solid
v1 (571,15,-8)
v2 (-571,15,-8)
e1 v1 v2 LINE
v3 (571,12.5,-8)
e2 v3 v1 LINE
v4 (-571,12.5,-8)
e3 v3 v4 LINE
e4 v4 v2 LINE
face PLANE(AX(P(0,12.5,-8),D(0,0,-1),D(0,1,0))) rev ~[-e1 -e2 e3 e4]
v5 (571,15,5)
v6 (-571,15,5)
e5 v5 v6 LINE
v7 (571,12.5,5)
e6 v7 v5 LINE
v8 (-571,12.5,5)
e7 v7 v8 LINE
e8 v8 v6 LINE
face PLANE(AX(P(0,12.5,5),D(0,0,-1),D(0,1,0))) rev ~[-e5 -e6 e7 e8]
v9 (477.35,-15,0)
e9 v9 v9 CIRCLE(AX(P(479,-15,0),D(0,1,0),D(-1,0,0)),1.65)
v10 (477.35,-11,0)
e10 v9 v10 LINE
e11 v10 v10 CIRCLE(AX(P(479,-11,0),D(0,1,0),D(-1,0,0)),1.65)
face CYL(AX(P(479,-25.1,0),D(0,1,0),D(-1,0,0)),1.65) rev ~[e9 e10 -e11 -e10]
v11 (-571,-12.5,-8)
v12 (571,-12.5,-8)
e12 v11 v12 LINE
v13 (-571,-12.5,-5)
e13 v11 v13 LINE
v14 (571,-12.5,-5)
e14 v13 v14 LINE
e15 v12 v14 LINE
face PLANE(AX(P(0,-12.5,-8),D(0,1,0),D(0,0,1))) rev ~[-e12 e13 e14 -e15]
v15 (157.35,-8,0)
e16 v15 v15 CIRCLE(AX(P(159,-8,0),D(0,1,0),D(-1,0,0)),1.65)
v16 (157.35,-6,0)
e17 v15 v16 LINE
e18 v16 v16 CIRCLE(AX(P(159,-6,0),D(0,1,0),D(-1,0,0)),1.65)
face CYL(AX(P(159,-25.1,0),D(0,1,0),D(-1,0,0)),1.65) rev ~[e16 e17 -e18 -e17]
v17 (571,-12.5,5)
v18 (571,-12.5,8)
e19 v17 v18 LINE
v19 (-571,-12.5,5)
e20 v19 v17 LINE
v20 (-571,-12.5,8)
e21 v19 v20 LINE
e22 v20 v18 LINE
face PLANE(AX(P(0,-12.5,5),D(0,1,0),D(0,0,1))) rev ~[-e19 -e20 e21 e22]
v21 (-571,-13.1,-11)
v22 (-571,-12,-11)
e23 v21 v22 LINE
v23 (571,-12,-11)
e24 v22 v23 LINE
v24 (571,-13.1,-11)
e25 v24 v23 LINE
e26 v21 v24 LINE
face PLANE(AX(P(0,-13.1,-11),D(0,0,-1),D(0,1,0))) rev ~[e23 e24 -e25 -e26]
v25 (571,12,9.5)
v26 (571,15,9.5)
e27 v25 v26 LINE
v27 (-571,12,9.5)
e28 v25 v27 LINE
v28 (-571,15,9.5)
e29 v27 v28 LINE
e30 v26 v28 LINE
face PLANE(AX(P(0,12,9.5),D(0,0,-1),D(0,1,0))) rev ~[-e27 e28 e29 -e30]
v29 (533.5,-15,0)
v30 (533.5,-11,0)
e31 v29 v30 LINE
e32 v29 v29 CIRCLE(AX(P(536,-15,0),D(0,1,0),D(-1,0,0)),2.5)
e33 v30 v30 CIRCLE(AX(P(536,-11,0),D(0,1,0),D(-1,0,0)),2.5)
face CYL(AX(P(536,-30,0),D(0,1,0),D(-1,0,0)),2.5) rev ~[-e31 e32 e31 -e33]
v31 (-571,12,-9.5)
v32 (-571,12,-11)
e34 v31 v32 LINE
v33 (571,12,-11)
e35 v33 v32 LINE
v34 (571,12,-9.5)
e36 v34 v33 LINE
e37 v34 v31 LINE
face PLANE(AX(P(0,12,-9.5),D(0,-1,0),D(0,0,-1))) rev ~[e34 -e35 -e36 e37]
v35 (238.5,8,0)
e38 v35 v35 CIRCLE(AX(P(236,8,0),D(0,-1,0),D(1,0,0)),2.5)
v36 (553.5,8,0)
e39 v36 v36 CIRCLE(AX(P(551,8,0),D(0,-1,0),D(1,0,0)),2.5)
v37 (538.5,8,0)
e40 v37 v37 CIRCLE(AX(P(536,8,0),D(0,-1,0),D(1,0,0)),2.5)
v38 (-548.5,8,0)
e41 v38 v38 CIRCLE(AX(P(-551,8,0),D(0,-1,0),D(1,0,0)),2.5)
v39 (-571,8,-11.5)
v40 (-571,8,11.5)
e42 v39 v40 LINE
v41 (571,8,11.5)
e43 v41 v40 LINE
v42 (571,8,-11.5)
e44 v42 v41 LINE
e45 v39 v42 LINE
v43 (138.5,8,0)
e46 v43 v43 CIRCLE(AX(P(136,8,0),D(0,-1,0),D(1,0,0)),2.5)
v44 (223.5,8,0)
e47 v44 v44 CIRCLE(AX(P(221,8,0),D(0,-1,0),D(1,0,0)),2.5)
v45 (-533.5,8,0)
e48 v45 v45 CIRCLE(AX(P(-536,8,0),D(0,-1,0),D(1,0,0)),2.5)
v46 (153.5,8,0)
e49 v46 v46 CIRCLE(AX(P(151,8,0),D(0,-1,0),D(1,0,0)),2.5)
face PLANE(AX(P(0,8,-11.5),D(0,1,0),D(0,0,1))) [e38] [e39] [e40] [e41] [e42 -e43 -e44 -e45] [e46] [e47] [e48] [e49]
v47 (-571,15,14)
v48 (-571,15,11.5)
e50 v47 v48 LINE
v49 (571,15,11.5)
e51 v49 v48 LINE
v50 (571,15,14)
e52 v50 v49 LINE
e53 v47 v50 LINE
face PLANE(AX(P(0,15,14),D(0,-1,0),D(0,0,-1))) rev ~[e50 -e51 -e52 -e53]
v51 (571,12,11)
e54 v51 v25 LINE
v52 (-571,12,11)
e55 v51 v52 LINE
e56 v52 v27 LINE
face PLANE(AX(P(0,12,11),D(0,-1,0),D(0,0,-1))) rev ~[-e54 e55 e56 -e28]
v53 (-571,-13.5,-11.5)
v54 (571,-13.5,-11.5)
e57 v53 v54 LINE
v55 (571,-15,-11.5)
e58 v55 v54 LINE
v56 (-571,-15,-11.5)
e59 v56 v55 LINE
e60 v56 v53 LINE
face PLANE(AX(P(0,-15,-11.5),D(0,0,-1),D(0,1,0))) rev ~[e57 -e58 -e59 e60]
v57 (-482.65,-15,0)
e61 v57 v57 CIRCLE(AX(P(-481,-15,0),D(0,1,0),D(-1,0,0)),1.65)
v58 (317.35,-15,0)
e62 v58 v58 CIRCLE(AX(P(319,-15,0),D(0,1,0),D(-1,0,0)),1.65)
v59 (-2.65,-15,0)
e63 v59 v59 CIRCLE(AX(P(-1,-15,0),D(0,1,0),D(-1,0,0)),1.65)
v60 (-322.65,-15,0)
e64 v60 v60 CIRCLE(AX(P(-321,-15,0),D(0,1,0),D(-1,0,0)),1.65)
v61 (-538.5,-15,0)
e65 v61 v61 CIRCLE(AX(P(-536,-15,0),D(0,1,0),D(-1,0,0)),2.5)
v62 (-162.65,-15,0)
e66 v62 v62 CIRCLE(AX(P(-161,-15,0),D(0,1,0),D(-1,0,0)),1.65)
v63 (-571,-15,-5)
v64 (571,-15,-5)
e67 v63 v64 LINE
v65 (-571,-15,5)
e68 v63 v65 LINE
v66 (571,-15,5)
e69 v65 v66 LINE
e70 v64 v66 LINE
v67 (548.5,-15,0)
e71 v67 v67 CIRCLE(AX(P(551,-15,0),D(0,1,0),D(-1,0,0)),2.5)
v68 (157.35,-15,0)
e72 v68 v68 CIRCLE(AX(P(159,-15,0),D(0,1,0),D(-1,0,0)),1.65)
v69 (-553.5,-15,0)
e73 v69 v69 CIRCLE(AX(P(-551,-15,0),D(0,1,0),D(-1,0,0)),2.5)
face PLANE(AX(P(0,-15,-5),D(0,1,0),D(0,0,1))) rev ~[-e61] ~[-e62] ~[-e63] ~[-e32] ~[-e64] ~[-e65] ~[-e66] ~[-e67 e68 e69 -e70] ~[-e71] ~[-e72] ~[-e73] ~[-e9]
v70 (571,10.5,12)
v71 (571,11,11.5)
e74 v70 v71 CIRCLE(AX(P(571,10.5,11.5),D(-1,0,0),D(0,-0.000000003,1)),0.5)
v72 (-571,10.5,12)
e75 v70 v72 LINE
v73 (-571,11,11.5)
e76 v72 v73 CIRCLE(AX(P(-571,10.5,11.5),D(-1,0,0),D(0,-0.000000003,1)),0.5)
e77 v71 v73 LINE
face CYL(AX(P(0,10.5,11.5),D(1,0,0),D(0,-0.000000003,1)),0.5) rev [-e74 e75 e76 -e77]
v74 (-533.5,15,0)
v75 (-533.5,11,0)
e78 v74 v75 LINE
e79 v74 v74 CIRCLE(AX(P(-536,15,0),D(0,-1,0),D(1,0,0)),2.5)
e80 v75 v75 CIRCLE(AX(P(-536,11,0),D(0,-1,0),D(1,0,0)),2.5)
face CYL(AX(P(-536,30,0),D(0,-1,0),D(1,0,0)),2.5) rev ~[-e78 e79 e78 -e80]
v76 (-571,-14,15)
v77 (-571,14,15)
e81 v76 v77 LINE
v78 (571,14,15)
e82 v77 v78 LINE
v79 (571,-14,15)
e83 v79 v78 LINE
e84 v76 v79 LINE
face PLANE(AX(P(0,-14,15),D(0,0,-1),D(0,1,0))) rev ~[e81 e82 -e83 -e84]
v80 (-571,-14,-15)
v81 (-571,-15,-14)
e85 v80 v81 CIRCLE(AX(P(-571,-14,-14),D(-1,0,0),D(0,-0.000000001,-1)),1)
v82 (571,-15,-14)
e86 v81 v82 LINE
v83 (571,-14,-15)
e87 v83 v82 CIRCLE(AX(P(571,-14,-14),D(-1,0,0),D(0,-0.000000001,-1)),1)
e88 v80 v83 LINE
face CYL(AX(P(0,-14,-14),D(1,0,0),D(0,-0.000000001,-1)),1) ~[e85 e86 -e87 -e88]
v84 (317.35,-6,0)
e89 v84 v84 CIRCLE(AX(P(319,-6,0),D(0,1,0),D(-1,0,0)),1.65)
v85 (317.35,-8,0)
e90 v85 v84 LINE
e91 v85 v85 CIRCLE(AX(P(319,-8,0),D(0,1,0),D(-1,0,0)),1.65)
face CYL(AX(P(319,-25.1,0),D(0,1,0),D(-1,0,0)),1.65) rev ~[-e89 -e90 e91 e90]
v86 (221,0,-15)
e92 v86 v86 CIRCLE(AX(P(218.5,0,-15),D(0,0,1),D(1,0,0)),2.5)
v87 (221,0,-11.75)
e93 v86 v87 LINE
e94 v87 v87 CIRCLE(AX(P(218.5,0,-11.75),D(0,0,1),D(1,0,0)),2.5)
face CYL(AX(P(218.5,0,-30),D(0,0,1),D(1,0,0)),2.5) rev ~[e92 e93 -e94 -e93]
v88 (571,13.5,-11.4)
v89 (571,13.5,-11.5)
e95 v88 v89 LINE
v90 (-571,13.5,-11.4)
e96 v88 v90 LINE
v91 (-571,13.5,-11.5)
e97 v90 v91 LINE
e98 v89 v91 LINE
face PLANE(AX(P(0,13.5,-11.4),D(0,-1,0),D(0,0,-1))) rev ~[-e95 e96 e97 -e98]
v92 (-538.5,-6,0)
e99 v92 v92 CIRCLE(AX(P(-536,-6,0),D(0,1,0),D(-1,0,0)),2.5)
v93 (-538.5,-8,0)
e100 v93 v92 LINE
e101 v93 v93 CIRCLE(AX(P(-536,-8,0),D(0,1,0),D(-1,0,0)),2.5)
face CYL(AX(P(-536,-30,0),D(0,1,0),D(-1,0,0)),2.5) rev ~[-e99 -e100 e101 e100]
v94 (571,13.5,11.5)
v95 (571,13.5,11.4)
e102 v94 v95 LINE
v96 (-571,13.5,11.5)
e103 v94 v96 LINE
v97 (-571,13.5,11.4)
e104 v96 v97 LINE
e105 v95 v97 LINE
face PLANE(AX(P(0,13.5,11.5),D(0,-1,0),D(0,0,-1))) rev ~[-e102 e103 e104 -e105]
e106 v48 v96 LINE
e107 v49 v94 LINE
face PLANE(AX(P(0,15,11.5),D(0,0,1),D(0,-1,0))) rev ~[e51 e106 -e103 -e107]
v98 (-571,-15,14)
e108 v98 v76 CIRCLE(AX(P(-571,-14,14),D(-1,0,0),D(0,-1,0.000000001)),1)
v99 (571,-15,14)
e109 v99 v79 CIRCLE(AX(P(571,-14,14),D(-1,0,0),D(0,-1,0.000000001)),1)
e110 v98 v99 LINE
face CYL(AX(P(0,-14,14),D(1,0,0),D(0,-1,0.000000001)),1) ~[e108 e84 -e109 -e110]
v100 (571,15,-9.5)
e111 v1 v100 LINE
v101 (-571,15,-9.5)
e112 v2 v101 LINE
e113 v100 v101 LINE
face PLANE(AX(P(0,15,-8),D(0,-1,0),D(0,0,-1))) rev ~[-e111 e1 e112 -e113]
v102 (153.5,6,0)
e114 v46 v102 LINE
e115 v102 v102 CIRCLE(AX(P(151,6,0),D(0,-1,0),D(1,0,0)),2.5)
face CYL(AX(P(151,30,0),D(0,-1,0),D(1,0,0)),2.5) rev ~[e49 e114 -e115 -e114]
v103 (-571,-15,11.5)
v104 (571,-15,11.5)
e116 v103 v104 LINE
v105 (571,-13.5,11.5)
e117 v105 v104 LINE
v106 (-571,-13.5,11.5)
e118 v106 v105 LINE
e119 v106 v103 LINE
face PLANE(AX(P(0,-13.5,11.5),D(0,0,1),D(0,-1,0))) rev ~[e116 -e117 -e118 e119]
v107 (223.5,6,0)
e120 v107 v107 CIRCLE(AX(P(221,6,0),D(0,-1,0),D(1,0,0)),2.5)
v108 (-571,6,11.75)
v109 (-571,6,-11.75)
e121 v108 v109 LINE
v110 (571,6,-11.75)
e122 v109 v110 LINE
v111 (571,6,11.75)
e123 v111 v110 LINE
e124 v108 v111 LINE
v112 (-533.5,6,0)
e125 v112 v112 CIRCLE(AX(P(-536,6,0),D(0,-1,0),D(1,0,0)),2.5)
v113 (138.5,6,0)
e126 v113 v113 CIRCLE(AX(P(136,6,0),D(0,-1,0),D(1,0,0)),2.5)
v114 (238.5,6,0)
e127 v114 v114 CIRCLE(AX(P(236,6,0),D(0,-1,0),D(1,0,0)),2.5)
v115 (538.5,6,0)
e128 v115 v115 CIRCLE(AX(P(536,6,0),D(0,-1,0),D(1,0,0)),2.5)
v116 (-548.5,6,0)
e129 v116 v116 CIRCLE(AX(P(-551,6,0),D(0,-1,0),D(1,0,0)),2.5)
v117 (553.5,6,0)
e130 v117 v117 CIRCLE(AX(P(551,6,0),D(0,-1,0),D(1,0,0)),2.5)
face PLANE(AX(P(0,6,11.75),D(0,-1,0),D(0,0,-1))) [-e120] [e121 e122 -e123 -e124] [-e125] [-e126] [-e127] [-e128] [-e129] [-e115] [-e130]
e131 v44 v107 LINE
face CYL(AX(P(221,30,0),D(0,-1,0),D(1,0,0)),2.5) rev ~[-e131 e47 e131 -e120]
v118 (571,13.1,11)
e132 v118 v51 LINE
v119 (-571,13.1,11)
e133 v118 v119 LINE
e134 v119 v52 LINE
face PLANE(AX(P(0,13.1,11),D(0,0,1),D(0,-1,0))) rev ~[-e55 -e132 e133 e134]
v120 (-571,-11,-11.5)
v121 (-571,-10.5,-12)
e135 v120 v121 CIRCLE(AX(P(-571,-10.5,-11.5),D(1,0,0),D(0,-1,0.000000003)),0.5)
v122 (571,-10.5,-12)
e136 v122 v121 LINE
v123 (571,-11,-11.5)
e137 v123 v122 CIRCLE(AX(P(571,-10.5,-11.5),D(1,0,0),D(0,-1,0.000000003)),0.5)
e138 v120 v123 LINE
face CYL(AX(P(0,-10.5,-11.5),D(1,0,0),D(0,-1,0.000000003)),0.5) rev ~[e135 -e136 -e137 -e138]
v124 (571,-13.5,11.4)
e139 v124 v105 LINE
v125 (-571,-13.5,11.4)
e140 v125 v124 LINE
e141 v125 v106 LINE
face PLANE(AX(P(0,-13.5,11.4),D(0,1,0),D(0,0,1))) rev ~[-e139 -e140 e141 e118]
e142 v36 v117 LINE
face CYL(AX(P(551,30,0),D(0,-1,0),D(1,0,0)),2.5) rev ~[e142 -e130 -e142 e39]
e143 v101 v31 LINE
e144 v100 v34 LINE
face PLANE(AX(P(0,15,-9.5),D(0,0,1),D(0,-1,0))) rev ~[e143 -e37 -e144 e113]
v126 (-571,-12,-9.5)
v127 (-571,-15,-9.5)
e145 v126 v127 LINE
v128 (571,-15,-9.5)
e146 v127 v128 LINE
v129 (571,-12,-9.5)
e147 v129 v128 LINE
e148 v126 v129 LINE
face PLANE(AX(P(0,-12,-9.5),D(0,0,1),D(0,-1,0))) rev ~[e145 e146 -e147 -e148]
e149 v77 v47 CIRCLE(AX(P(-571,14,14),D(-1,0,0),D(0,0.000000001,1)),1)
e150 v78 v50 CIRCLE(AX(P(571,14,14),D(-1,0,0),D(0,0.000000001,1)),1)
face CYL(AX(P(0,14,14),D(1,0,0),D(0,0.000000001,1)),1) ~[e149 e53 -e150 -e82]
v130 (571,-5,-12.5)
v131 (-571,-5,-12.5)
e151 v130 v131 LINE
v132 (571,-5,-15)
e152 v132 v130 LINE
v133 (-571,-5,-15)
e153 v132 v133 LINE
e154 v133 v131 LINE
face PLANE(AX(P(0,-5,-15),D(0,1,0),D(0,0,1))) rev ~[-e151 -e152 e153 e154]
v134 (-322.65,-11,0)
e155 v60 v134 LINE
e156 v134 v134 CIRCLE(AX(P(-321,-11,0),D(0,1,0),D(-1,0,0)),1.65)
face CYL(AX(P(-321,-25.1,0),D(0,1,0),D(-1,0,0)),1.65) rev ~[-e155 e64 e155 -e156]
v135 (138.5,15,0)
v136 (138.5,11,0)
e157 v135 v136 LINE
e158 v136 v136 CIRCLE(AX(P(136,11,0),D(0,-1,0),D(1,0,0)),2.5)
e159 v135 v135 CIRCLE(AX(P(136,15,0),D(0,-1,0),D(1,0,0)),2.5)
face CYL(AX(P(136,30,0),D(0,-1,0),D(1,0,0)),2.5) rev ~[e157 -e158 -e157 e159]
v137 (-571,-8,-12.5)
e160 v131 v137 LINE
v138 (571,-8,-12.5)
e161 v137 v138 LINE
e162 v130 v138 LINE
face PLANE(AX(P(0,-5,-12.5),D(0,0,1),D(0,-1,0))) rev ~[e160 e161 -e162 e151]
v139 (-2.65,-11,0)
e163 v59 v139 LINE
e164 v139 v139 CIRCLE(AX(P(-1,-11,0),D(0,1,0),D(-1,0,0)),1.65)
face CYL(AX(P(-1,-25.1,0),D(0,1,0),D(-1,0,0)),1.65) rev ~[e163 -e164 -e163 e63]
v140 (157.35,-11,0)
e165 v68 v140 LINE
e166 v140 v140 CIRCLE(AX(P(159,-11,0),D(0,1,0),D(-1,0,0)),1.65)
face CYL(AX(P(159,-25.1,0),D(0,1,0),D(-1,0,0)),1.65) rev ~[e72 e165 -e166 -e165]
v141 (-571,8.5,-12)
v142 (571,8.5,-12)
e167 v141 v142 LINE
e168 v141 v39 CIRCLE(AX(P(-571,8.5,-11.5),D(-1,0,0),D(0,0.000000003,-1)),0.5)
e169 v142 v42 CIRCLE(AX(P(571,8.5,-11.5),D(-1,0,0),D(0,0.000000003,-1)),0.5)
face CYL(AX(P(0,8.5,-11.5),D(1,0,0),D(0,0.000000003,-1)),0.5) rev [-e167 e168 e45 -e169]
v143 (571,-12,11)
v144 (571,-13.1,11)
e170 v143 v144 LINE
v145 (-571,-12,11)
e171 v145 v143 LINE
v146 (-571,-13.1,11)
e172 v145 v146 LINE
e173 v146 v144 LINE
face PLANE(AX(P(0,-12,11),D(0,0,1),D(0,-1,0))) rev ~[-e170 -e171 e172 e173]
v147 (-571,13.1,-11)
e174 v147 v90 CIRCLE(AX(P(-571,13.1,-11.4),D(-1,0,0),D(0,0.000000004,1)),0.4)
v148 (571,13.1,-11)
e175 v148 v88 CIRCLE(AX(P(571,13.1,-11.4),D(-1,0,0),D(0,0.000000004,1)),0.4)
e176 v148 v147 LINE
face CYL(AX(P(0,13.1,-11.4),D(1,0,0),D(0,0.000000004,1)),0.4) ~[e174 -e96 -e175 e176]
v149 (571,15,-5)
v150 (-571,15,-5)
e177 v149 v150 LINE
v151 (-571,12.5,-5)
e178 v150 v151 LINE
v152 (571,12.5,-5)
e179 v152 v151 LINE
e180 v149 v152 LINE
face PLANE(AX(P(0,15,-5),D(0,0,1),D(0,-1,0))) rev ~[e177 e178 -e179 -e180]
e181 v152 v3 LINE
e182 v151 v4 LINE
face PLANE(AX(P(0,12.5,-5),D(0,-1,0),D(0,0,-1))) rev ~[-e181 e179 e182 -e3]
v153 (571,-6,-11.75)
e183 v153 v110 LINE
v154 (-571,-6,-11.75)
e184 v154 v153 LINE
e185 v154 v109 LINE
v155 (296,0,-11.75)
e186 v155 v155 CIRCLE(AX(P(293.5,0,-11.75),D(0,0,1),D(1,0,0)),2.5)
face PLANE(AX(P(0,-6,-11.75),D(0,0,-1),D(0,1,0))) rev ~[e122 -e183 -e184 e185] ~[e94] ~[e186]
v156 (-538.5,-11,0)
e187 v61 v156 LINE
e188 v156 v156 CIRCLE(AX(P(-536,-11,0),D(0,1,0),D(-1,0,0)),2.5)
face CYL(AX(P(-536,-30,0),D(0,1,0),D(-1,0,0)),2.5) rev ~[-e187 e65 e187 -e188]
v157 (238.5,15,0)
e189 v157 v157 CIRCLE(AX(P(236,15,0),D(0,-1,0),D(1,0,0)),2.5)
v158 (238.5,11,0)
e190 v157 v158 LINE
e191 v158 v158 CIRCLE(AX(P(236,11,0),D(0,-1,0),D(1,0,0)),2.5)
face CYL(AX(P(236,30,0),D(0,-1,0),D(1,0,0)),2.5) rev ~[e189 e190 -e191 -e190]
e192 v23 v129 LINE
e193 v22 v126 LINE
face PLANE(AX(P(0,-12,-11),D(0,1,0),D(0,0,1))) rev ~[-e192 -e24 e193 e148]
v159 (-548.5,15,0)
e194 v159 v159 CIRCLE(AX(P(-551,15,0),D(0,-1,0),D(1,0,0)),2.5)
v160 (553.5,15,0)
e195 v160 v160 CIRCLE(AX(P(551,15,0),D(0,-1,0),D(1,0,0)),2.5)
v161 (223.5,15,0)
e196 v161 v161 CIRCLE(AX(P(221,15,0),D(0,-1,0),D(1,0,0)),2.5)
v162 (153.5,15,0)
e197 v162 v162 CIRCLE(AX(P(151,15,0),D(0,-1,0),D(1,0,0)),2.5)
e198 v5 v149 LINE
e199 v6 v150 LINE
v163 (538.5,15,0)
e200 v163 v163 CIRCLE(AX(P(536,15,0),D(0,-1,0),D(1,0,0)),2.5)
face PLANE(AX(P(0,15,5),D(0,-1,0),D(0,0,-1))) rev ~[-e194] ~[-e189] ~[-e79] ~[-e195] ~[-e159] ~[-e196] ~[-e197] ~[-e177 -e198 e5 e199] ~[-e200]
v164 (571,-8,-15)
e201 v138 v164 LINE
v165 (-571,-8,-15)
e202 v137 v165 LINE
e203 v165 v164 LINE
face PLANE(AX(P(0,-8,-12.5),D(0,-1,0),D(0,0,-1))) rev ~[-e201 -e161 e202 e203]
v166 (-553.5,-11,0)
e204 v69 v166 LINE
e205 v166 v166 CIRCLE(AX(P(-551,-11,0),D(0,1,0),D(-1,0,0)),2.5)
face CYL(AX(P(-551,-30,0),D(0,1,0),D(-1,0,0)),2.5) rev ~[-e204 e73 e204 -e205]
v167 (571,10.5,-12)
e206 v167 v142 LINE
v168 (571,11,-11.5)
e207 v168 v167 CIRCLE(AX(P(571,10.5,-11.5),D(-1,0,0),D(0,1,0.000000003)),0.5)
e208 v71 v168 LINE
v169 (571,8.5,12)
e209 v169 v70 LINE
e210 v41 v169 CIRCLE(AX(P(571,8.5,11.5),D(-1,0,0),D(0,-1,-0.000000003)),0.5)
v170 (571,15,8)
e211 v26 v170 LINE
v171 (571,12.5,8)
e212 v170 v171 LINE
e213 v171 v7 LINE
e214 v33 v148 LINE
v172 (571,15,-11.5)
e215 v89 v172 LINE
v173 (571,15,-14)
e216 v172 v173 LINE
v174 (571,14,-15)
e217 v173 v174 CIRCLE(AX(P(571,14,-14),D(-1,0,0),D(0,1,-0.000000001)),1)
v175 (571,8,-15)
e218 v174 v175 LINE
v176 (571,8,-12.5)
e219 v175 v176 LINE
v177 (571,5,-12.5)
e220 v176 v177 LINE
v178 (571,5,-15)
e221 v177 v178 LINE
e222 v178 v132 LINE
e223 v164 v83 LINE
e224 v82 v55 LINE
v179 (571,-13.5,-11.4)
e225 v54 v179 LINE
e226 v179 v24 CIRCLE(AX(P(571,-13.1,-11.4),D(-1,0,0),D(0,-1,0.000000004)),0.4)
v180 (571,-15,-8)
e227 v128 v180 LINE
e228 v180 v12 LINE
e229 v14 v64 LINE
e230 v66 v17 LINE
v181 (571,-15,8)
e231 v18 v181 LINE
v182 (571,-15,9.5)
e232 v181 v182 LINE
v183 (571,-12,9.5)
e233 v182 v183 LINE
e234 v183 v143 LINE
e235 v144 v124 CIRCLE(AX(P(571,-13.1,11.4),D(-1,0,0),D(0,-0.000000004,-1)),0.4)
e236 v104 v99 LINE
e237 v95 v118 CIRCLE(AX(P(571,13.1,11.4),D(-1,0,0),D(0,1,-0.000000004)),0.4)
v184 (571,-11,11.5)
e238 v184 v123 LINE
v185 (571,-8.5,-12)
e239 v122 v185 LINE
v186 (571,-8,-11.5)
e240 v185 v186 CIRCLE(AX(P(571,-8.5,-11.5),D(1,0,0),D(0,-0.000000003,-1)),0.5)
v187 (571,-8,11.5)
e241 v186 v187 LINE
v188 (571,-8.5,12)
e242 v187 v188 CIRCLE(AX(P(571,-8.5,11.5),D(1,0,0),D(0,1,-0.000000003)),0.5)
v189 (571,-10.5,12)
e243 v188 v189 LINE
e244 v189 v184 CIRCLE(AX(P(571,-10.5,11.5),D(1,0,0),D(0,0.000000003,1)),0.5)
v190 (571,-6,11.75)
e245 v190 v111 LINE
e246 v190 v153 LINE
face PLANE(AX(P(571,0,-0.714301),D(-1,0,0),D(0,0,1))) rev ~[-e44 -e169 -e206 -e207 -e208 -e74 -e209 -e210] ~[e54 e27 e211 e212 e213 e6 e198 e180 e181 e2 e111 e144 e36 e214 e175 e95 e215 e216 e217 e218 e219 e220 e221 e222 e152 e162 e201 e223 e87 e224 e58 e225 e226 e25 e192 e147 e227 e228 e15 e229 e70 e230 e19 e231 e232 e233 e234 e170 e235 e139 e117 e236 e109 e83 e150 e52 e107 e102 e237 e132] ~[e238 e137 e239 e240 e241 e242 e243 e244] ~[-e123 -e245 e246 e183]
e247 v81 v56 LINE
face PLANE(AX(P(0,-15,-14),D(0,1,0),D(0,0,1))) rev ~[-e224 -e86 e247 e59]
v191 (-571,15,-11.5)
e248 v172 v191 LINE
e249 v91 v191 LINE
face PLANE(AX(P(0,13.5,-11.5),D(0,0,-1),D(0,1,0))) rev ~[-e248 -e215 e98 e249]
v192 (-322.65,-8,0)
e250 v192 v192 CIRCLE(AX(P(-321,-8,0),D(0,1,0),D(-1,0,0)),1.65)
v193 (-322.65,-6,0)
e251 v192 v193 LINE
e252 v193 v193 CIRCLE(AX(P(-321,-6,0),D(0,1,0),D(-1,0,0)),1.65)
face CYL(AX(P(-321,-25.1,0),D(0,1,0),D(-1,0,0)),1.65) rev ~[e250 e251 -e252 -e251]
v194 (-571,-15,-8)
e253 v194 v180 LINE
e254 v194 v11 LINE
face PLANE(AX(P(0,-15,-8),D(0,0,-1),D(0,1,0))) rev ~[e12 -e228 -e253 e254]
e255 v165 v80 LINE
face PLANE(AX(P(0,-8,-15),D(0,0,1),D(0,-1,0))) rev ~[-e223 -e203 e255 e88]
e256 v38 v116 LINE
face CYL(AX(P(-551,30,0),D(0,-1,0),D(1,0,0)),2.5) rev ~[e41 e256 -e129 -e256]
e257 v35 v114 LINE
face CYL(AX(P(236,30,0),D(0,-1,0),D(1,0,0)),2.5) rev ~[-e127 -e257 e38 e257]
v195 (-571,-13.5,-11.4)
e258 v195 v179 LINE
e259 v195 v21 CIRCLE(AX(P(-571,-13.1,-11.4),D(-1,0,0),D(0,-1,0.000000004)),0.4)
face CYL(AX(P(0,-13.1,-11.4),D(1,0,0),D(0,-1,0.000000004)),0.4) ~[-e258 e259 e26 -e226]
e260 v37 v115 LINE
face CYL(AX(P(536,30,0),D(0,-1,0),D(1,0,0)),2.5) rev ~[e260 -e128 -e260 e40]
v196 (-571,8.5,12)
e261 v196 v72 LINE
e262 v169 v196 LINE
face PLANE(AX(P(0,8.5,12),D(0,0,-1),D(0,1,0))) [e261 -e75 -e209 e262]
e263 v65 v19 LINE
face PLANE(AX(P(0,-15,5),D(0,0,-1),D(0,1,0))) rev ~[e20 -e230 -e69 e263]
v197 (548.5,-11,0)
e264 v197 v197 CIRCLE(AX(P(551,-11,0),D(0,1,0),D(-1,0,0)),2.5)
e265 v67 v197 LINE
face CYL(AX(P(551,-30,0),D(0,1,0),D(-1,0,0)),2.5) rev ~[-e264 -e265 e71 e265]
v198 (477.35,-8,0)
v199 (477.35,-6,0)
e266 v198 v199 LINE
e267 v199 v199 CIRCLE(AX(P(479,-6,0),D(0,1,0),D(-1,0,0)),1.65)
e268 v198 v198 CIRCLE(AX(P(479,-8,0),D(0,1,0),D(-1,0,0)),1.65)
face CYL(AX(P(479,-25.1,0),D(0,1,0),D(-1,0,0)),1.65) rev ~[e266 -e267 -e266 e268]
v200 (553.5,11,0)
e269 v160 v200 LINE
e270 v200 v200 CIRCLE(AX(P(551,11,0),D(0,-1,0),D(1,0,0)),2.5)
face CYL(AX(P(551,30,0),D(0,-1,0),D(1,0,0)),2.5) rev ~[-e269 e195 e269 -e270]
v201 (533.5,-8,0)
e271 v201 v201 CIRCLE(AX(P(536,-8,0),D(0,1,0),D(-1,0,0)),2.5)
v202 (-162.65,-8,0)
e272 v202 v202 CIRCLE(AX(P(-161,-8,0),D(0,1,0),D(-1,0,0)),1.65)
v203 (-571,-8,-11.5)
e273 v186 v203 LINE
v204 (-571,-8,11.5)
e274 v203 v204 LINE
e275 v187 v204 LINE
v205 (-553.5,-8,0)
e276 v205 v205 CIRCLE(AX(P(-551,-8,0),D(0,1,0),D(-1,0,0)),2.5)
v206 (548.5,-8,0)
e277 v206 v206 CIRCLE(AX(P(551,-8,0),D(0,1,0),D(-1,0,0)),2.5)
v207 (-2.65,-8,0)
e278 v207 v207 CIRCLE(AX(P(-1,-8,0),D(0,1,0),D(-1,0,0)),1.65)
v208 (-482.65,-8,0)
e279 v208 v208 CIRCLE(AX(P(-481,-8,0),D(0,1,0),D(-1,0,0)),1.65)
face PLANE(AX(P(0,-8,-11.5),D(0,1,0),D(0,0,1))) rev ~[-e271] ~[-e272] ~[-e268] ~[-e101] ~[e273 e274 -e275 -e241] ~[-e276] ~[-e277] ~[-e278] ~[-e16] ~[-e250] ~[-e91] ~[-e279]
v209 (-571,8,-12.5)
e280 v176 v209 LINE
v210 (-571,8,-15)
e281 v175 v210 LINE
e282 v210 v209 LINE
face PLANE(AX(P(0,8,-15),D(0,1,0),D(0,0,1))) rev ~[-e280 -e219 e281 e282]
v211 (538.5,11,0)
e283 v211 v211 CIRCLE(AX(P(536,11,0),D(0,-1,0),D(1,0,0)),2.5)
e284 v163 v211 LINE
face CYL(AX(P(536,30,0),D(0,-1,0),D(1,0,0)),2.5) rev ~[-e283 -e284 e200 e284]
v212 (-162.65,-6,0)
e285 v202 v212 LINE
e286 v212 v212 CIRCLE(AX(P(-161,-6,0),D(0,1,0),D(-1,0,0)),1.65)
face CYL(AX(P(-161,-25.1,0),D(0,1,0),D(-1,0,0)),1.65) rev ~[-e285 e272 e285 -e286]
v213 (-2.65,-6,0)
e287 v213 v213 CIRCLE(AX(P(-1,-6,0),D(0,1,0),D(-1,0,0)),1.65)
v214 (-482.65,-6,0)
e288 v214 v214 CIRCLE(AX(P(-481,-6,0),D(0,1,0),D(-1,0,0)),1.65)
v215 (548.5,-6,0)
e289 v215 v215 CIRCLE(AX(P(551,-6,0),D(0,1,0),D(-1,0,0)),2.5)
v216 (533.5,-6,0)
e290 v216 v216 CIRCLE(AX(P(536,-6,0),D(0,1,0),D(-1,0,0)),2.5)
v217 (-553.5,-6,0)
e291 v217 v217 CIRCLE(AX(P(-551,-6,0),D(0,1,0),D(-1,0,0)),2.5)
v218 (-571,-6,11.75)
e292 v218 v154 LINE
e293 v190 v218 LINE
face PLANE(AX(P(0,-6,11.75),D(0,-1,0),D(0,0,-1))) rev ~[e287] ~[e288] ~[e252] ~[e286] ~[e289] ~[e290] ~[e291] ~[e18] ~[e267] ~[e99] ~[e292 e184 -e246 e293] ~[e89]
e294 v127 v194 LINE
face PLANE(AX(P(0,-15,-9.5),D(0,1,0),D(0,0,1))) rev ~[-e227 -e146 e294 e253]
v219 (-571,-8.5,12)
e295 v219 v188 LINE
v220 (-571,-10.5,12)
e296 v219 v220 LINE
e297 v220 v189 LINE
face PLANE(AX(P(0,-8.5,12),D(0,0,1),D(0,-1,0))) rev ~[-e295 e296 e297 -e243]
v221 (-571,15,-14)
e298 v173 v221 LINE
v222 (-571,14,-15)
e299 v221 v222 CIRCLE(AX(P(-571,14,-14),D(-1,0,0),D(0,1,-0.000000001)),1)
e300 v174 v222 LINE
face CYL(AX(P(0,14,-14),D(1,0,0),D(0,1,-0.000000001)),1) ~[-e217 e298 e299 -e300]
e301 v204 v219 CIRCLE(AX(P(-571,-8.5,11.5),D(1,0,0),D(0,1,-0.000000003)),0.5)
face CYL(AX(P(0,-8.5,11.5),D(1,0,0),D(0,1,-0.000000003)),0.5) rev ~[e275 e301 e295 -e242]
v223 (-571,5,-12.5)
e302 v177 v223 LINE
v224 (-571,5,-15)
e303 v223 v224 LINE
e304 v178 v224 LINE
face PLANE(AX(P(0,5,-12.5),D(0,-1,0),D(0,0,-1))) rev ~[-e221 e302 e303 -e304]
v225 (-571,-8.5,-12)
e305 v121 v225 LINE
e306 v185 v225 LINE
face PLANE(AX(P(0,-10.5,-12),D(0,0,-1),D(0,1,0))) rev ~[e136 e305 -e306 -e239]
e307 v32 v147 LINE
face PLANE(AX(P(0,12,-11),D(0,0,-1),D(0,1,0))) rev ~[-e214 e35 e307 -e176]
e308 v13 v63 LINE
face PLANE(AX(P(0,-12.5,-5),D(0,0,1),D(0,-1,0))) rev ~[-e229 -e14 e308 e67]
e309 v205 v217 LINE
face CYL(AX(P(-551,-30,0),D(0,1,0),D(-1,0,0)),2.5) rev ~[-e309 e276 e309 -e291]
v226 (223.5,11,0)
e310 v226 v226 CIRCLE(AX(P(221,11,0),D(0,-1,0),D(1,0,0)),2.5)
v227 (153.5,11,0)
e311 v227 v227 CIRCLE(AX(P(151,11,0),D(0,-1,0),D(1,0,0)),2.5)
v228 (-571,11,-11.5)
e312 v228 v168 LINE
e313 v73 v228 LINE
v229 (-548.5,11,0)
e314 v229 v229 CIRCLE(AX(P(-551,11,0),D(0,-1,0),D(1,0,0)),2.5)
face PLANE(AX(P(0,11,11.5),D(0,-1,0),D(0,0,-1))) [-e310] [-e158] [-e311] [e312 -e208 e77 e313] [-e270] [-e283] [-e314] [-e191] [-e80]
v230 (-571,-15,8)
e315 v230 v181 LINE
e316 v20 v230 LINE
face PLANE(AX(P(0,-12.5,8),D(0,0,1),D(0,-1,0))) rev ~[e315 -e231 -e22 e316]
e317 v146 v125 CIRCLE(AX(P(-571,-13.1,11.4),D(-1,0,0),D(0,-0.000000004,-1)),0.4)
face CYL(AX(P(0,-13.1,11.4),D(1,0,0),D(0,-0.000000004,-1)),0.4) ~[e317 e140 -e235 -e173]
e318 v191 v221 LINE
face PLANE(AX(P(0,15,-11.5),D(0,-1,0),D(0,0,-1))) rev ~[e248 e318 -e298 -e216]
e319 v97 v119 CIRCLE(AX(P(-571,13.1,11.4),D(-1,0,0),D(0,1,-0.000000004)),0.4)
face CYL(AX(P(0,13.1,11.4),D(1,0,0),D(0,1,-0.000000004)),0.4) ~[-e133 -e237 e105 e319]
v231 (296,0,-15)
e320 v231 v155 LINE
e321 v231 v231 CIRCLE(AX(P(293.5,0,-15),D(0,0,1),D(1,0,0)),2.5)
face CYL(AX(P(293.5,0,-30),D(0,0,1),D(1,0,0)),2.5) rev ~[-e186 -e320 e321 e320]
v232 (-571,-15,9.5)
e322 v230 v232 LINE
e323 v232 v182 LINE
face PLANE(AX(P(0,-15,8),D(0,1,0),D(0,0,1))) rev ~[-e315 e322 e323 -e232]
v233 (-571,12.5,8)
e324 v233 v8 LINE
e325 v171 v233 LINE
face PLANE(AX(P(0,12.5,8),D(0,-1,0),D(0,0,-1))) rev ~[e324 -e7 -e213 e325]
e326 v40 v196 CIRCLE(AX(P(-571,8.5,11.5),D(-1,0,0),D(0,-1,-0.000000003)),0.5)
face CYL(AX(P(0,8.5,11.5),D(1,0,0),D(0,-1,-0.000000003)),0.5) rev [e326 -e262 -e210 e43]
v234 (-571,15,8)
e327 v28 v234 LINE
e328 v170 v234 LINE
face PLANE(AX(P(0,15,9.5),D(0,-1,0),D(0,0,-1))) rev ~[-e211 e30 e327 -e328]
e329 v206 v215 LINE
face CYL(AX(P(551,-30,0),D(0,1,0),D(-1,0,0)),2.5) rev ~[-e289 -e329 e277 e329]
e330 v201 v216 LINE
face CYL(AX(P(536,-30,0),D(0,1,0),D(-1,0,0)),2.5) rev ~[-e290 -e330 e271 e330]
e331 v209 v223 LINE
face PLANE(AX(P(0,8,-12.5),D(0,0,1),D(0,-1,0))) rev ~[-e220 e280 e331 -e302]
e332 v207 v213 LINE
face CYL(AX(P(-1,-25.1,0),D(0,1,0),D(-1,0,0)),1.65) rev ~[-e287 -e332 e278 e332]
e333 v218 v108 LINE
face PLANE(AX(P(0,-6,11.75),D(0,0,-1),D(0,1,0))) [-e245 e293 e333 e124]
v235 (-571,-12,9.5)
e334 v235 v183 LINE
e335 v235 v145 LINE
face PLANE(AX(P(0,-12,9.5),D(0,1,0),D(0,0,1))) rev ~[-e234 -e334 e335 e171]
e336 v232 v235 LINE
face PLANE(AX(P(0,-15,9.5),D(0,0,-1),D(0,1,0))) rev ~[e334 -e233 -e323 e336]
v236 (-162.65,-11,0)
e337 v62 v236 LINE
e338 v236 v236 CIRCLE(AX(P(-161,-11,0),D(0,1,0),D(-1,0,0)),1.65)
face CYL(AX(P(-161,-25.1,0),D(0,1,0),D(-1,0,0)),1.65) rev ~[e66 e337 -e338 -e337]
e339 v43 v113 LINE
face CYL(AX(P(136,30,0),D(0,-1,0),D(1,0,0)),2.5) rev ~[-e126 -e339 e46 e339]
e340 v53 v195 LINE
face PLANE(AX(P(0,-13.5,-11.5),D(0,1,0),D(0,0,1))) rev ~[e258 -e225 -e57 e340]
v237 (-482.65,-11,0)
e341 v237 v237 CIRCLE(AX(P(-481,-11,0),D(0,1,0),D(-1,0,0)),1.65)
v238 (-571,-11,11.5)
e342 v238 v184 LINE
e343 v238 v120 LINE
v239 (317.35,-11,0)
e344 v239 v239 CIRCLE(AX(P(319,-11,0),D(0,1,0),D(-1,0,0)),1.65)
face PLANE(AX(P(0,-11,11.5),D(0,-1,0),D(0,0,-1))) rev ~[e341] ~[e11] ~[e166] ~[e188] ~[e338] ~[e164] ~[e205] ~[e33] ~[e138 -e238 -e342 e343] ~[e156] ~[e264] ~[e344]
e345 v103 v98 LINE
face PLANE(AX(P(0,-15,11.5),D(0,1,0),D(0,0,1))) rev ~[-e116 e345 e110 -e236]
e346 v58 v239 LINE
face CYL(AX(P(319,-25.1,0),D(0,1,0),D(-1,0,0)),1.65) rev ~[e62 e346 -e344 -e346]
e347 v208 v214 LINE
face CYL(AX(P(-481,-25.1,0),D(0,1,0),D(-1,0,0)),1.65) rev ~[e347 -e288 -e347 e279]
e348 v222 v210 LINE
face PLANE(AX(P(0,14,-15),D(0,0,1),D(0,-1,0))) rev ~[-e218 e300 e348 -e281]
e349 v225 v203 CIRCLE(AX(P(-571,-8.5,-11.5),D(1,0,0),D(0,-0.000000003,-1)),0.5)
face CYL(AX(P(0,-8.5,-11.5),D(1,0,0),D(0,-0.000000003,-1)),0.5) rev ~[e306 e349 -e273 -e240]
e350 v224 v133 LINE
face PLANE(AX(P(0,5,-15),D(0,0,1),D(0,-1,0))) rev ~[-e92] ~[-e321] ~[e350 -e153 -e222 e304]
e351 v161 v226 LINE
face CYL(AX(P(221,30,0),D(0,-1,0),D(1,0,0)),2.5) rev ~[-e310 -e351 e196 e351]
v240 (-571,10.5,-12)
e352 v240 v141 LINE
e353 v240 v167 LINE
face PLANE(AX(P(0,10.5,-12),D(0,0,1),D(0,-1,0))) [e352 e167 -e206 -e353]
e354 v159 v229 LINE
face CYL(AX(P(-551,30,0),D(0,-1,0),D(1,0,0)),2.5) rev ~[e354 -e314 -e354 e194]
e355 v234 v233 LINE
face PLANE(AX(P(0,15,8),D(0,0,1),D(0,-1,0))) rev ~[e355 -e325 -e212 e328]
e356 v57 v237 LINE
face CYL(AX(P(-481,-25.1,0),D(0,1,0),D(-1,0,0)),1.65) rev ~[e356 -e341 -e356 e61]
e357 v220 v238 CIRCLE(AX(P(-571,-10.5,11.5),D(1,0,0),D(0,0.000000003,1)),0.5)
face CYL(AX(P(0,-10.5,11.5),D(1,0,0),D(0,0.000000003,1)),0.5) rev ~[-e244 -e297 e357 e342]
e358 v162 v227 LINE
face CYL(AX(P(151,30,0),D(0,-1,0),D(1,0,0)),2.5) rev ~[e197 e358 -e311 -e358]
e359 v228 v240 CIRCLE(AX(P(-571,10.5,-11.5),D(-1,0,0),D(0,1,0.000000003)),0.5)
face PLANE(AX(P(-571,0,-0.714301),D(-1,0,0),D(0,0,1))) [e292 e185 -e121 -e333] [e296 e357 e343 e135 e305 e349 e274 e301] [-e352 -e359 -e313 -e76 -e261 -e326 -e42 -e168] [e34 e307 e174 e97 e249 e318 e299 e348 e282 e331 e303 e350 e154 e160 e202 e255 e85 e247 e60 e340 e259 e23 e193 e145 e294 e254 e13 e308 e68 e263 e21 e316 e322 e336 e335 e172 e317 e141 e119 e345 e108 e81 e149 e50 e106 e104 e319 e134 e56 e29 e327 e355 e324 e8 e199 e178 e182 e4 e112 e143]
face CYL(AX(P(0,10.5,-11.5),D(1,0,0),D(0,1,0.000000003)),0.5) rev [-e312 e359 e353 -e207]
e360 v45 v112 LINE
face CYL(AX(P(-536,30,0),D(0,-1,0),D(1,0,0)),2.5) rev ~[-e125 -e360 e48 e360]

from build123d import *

# Parameters (mm, degrees)
SKETCH_1_W             = 23.5
SKETCH_1_H             = 12
EXTRUDE_1_DEPTH        = 571
HOLE_WIZARD_M6_1_D     = 5
HOLE_WIZARD_M6_1_DEPTH = 15
HOLE_WIZARD_M6_1_TIP   = 1.502151548
HOLE_WIZARD_M6_2_D     = 5
HOLE_WIZARD_M6_2_DEPTH = 15
HOLE_WIZARD_M6_2_TIP   = 1.502151548
HOLE_WIZARD_M4_1_D     = 3.3
HOLE_WIZARD_M4_1_DEPTH = 10.1
HOLE_WIZARD_M4_1_TIP   = 0.991420021
HOLE_WIZARD_M6_3_D     = 5
HOLE_WIZARD_M6_3_DEPTH = 15
HOLE_WIZARD_M6_3_TIP   = 1.502151548


with BuildPart() as part:
    # 草图1 → 凸台-拉伸1 (new, symmetric)
    with BuildSketch(Plane(origin=(0, 0, 0), x_dir=(0, 0, -1), z_dir=(1, 0, 0))):
        with BuildLine():
            Line((-14, 15), (-11.5, 15))
            Line((-11.5, 15), (-11.5, 13.5))
            Line((-11.5, 13.5), (-11.4, 13.5))
            ThreePointArc((-11.4, 13.5), (-11.117157288, 13.382842712), (-11, 13.1))
            Line((-11, 13.1), (-11, 12))
            Line((-11, 12), (-9.5, 12))
            Line((-9.5, 12), (-9.5, 15))
            Line((-9.5, 15), (-8, 15))
            Line((-8, 15), (-8, 12.5))
            Line((-8, 12.5), (-5, 12.5))
            Line((-5, 12.5), (-5, 15))
            Line((-5, 15), (5, 15))
            Line((5, 15), (5, 12.5))
            Line((5, 12.5), (8, 12.5))
            Line((8, 12.5), (8, 15))
            Line((8, 15), (9.5, 15))
            Line((9.5, 15), (9.5, 12))
            Line((9.5, 12), (11, 12))
            Line((11, 12), (11, 13.1))
            ThreePointArc((11, 13.1), (11.117157288, 13.382842712), (11.4, 13.5))
            Line((11.4, 13.5), (11.5, 13.5))
            Line((11.5, 13.5), (11.5, 15))
            Line((11.5, 15), (14, 15))
            ThreePointArc((14, 15), (14.707106781, 14.707106781), (15, 14))
            Line((15, 14), (15, 8))
            Line((15, 8), (12.5, 8))
            Line((12.5, 8), (12.5, 5))
            Line((12.5, 5), (15, 5))
            Line((15, 5), (15, -5))
            Line((15, -5), (12.5, -5))
            Line((12.5, -5), (12.5, -8))
            Line((12.5, -8), (15, -8))
            Line((15, -8), (15, -14))
            ThreePointArc((15, -14), (14.707106781, -14.707106781), (14, -15))
            Line((14, -15), (11.5, -15))
            Line((11.5, -15), (11.5, -13.5))
            Line((11.5, -13.5), (11.4, -13.5))
            ThreePointArc((11.4, -13.5), (11.117157288, -13.382842712), (11, -13.1))
            Line((11, -13.1), (11, -12))
            Line((11, -12), (9.5, -12))
            Line((9.5, -12), (9.5, -15))
            Line((9.5, -15), (8, -15))
            Line((8, -15), (8, -12.5))
            Line((8, -12.5), (5, -12.5))
            Line((5, -12.5), (5, -15))
            Line((5, -15), (-5, -15))
            Line((-5, -15), (-5, -12.5))
            Line((-5, -12.5), (-8, -12.5))
            Line((-8, -12.5), (-8, -15))
            Line((-8, -15), (-9.5, -15))
            Line((-9.5, -15), (-9.5, -12))
            Line((-9.5, -12), (-11, -12))
            Line((-11, -12), (-11, -13.1))
            ThreePointArc((-11, -13.1), (-11.117157288, -13.382842712), (-11.4, -13.5))
            Line((-11.4, -13.5), (-11.5, -13.5))
            Line((-11.5, -13.5), (-11.5, -15))
            Line((-11.5, -15), (-14, -15))
            ThreePointArc((-14, -15), (-14.707106781, -14.707106781), (-15, -14))
            Line((-15, -14), (-15, 14))
            ThreePointArc((-15, 14), (-14.707106781, 14.707106781), (-14, 15))
        make_face()
        with BuildLine():
            Line((12, -10.5), (12, -8.5))
            ThreePointArc((12, -8.5), (11.853553391, -8.146446609), (11.5, -8))
            Line((11.5, -8), (-11.5, -8))
            ThreePointArc((-11.5, -8), (-11.853553391, -8.146446609), (-12, -8.5))
            Line((-12, -8.5), (-12, -10.5))
            ThreePointArc((-12, -10.5), (-11.853553391, -10.853553391), (-11.5, -11))
            Line((-11.5, -11), (11.5, -11))
            ThreePointArc((11.5, -11), (11.853553391, -10.853553391), (12, -10.5))
        make_face(mode=Mode.SUBTRACT)
        with BuildLine():
            Line((-11.5, 11), (11.5, 11))
            ThreePointArc((11.5, 11), (11.853553391, 10.853553391), (12, 10.5))
            Line((12, 10.5), (12, 8.5))
            ThreePointArc((12, 8.5), (11.853553391, 8.146446609), (11.5, 8))
            Line((11.5, 8), (-11.5, 8))
            ThreePointArc((-11.5, 8), (-11.853553391, 8.146446609), (-12, 8.5))
            Line((-12, 8.5), (-12, 10.5))
            ThreePointArc((-12, 10.5), (-11.853553391, 10.853553391), (-11.5, 11))
        make_face(mode=Mode.SUBTRACT)
        Rectangle(SKETCH_1_W, SKETCH_1_H, mode=Mode.SUBTRACT)
    extrude(amount=EXTRUDE_1_DEPTH, both=True)

    # M6 螺纹孔1
    with Locations(Plane.XZ.offset(15)):
        with Locations((551, 0), (536, 0), (-536, 0), (-551, 0)):
            Hole(HOLE_WIZARD_M6_1_D / 2, depth=HOLE_WIZARD_M6_1_DEPTH)
            with Locations((0, 0, -(HOLE_WIZARD_M6_1_DEPTH + HOLE_WIZARD_M6_1_TIP / 2))):  # 118° drill point
                Cone(0, HOLE_WIZARD_M6_1_D / 2, HOLE_WIZARD_M6_1_TIP, mode=Mode.SUBTRACT)

    # M6 螺纹孔2
    with Locations(Plane(origin=(0, 15, 0), x_dir=(-1, 0, 0), z_dir=(0, 1, 0))):
        with Locations((551, 0), (536, 0), (-151, 0), (-136, 0), (-221, 0), (-236, 0), (-536, 0), (-551, 0)):
            Hole(HOLE_WIZARD_M6_2_D / 2, depth=HOLE_WIZARD_M6_2_DEPTH)
            with Locations((0, 0, -(HOLE_WIZARD_M6_2_DEPTH + HOLE_WIZARD_M6_2_TIP / 2))):  # 118° drill point
                Cone(0, HOLE_WIZARD_M6_2_D / 2, HOLE_WIZARD_M6_2_TIP, mode=Mode.SUBTRACT)

    # M4 螺纹孔1
    with Locations(Plane.XZ.offset(15)):
        with Locations((479, 0), (319, 0), (159, 0), (-1, 0), (-161, 0), (-321, 0), (-481, 0)):
            Hole(HOLE_WIZARD_M4_1_D / 2, depth=HOLE_WIZARD_M4_1_DEPTH)
            with Locations((0, 0, -(HOLE_WIZARD_M4_1_DEPTH + HOLE_WIZARD_M4_1_TIP / 2))):  # 118° drill point
                Cone(0, HOLE_WIZARD_M4_1_D / 2, HOLE_WIZARD_M4_1_TIP, mode=Mode.SUBTRACT)

    # M6 螺纹孔3
    with Locations(Plane(origin=(0, 0, -15), x_dir=(-1, 0, 0), z_dir=(0, 0, -1))):
        with Locations((-293.5, 0), (-218.5, 0)):
            Hole(HOLE_WIZARD_M6_3_D / 2, depth=HOLE_WIZARD_M6_3_DEPTH)
            with Locations((0, 0, -(HOLE_WIZARD_M6_3_DEPTH + HOLE_WIZARD_M6_3_TIP / 2))):  # 118° drill point
                Cone(0, HOLE_WIZARD_M6_3_D / 2, HOLE_WIZARD_M6_3_TIP, mode=Mode.SUBTRACT)


solid = part.part
